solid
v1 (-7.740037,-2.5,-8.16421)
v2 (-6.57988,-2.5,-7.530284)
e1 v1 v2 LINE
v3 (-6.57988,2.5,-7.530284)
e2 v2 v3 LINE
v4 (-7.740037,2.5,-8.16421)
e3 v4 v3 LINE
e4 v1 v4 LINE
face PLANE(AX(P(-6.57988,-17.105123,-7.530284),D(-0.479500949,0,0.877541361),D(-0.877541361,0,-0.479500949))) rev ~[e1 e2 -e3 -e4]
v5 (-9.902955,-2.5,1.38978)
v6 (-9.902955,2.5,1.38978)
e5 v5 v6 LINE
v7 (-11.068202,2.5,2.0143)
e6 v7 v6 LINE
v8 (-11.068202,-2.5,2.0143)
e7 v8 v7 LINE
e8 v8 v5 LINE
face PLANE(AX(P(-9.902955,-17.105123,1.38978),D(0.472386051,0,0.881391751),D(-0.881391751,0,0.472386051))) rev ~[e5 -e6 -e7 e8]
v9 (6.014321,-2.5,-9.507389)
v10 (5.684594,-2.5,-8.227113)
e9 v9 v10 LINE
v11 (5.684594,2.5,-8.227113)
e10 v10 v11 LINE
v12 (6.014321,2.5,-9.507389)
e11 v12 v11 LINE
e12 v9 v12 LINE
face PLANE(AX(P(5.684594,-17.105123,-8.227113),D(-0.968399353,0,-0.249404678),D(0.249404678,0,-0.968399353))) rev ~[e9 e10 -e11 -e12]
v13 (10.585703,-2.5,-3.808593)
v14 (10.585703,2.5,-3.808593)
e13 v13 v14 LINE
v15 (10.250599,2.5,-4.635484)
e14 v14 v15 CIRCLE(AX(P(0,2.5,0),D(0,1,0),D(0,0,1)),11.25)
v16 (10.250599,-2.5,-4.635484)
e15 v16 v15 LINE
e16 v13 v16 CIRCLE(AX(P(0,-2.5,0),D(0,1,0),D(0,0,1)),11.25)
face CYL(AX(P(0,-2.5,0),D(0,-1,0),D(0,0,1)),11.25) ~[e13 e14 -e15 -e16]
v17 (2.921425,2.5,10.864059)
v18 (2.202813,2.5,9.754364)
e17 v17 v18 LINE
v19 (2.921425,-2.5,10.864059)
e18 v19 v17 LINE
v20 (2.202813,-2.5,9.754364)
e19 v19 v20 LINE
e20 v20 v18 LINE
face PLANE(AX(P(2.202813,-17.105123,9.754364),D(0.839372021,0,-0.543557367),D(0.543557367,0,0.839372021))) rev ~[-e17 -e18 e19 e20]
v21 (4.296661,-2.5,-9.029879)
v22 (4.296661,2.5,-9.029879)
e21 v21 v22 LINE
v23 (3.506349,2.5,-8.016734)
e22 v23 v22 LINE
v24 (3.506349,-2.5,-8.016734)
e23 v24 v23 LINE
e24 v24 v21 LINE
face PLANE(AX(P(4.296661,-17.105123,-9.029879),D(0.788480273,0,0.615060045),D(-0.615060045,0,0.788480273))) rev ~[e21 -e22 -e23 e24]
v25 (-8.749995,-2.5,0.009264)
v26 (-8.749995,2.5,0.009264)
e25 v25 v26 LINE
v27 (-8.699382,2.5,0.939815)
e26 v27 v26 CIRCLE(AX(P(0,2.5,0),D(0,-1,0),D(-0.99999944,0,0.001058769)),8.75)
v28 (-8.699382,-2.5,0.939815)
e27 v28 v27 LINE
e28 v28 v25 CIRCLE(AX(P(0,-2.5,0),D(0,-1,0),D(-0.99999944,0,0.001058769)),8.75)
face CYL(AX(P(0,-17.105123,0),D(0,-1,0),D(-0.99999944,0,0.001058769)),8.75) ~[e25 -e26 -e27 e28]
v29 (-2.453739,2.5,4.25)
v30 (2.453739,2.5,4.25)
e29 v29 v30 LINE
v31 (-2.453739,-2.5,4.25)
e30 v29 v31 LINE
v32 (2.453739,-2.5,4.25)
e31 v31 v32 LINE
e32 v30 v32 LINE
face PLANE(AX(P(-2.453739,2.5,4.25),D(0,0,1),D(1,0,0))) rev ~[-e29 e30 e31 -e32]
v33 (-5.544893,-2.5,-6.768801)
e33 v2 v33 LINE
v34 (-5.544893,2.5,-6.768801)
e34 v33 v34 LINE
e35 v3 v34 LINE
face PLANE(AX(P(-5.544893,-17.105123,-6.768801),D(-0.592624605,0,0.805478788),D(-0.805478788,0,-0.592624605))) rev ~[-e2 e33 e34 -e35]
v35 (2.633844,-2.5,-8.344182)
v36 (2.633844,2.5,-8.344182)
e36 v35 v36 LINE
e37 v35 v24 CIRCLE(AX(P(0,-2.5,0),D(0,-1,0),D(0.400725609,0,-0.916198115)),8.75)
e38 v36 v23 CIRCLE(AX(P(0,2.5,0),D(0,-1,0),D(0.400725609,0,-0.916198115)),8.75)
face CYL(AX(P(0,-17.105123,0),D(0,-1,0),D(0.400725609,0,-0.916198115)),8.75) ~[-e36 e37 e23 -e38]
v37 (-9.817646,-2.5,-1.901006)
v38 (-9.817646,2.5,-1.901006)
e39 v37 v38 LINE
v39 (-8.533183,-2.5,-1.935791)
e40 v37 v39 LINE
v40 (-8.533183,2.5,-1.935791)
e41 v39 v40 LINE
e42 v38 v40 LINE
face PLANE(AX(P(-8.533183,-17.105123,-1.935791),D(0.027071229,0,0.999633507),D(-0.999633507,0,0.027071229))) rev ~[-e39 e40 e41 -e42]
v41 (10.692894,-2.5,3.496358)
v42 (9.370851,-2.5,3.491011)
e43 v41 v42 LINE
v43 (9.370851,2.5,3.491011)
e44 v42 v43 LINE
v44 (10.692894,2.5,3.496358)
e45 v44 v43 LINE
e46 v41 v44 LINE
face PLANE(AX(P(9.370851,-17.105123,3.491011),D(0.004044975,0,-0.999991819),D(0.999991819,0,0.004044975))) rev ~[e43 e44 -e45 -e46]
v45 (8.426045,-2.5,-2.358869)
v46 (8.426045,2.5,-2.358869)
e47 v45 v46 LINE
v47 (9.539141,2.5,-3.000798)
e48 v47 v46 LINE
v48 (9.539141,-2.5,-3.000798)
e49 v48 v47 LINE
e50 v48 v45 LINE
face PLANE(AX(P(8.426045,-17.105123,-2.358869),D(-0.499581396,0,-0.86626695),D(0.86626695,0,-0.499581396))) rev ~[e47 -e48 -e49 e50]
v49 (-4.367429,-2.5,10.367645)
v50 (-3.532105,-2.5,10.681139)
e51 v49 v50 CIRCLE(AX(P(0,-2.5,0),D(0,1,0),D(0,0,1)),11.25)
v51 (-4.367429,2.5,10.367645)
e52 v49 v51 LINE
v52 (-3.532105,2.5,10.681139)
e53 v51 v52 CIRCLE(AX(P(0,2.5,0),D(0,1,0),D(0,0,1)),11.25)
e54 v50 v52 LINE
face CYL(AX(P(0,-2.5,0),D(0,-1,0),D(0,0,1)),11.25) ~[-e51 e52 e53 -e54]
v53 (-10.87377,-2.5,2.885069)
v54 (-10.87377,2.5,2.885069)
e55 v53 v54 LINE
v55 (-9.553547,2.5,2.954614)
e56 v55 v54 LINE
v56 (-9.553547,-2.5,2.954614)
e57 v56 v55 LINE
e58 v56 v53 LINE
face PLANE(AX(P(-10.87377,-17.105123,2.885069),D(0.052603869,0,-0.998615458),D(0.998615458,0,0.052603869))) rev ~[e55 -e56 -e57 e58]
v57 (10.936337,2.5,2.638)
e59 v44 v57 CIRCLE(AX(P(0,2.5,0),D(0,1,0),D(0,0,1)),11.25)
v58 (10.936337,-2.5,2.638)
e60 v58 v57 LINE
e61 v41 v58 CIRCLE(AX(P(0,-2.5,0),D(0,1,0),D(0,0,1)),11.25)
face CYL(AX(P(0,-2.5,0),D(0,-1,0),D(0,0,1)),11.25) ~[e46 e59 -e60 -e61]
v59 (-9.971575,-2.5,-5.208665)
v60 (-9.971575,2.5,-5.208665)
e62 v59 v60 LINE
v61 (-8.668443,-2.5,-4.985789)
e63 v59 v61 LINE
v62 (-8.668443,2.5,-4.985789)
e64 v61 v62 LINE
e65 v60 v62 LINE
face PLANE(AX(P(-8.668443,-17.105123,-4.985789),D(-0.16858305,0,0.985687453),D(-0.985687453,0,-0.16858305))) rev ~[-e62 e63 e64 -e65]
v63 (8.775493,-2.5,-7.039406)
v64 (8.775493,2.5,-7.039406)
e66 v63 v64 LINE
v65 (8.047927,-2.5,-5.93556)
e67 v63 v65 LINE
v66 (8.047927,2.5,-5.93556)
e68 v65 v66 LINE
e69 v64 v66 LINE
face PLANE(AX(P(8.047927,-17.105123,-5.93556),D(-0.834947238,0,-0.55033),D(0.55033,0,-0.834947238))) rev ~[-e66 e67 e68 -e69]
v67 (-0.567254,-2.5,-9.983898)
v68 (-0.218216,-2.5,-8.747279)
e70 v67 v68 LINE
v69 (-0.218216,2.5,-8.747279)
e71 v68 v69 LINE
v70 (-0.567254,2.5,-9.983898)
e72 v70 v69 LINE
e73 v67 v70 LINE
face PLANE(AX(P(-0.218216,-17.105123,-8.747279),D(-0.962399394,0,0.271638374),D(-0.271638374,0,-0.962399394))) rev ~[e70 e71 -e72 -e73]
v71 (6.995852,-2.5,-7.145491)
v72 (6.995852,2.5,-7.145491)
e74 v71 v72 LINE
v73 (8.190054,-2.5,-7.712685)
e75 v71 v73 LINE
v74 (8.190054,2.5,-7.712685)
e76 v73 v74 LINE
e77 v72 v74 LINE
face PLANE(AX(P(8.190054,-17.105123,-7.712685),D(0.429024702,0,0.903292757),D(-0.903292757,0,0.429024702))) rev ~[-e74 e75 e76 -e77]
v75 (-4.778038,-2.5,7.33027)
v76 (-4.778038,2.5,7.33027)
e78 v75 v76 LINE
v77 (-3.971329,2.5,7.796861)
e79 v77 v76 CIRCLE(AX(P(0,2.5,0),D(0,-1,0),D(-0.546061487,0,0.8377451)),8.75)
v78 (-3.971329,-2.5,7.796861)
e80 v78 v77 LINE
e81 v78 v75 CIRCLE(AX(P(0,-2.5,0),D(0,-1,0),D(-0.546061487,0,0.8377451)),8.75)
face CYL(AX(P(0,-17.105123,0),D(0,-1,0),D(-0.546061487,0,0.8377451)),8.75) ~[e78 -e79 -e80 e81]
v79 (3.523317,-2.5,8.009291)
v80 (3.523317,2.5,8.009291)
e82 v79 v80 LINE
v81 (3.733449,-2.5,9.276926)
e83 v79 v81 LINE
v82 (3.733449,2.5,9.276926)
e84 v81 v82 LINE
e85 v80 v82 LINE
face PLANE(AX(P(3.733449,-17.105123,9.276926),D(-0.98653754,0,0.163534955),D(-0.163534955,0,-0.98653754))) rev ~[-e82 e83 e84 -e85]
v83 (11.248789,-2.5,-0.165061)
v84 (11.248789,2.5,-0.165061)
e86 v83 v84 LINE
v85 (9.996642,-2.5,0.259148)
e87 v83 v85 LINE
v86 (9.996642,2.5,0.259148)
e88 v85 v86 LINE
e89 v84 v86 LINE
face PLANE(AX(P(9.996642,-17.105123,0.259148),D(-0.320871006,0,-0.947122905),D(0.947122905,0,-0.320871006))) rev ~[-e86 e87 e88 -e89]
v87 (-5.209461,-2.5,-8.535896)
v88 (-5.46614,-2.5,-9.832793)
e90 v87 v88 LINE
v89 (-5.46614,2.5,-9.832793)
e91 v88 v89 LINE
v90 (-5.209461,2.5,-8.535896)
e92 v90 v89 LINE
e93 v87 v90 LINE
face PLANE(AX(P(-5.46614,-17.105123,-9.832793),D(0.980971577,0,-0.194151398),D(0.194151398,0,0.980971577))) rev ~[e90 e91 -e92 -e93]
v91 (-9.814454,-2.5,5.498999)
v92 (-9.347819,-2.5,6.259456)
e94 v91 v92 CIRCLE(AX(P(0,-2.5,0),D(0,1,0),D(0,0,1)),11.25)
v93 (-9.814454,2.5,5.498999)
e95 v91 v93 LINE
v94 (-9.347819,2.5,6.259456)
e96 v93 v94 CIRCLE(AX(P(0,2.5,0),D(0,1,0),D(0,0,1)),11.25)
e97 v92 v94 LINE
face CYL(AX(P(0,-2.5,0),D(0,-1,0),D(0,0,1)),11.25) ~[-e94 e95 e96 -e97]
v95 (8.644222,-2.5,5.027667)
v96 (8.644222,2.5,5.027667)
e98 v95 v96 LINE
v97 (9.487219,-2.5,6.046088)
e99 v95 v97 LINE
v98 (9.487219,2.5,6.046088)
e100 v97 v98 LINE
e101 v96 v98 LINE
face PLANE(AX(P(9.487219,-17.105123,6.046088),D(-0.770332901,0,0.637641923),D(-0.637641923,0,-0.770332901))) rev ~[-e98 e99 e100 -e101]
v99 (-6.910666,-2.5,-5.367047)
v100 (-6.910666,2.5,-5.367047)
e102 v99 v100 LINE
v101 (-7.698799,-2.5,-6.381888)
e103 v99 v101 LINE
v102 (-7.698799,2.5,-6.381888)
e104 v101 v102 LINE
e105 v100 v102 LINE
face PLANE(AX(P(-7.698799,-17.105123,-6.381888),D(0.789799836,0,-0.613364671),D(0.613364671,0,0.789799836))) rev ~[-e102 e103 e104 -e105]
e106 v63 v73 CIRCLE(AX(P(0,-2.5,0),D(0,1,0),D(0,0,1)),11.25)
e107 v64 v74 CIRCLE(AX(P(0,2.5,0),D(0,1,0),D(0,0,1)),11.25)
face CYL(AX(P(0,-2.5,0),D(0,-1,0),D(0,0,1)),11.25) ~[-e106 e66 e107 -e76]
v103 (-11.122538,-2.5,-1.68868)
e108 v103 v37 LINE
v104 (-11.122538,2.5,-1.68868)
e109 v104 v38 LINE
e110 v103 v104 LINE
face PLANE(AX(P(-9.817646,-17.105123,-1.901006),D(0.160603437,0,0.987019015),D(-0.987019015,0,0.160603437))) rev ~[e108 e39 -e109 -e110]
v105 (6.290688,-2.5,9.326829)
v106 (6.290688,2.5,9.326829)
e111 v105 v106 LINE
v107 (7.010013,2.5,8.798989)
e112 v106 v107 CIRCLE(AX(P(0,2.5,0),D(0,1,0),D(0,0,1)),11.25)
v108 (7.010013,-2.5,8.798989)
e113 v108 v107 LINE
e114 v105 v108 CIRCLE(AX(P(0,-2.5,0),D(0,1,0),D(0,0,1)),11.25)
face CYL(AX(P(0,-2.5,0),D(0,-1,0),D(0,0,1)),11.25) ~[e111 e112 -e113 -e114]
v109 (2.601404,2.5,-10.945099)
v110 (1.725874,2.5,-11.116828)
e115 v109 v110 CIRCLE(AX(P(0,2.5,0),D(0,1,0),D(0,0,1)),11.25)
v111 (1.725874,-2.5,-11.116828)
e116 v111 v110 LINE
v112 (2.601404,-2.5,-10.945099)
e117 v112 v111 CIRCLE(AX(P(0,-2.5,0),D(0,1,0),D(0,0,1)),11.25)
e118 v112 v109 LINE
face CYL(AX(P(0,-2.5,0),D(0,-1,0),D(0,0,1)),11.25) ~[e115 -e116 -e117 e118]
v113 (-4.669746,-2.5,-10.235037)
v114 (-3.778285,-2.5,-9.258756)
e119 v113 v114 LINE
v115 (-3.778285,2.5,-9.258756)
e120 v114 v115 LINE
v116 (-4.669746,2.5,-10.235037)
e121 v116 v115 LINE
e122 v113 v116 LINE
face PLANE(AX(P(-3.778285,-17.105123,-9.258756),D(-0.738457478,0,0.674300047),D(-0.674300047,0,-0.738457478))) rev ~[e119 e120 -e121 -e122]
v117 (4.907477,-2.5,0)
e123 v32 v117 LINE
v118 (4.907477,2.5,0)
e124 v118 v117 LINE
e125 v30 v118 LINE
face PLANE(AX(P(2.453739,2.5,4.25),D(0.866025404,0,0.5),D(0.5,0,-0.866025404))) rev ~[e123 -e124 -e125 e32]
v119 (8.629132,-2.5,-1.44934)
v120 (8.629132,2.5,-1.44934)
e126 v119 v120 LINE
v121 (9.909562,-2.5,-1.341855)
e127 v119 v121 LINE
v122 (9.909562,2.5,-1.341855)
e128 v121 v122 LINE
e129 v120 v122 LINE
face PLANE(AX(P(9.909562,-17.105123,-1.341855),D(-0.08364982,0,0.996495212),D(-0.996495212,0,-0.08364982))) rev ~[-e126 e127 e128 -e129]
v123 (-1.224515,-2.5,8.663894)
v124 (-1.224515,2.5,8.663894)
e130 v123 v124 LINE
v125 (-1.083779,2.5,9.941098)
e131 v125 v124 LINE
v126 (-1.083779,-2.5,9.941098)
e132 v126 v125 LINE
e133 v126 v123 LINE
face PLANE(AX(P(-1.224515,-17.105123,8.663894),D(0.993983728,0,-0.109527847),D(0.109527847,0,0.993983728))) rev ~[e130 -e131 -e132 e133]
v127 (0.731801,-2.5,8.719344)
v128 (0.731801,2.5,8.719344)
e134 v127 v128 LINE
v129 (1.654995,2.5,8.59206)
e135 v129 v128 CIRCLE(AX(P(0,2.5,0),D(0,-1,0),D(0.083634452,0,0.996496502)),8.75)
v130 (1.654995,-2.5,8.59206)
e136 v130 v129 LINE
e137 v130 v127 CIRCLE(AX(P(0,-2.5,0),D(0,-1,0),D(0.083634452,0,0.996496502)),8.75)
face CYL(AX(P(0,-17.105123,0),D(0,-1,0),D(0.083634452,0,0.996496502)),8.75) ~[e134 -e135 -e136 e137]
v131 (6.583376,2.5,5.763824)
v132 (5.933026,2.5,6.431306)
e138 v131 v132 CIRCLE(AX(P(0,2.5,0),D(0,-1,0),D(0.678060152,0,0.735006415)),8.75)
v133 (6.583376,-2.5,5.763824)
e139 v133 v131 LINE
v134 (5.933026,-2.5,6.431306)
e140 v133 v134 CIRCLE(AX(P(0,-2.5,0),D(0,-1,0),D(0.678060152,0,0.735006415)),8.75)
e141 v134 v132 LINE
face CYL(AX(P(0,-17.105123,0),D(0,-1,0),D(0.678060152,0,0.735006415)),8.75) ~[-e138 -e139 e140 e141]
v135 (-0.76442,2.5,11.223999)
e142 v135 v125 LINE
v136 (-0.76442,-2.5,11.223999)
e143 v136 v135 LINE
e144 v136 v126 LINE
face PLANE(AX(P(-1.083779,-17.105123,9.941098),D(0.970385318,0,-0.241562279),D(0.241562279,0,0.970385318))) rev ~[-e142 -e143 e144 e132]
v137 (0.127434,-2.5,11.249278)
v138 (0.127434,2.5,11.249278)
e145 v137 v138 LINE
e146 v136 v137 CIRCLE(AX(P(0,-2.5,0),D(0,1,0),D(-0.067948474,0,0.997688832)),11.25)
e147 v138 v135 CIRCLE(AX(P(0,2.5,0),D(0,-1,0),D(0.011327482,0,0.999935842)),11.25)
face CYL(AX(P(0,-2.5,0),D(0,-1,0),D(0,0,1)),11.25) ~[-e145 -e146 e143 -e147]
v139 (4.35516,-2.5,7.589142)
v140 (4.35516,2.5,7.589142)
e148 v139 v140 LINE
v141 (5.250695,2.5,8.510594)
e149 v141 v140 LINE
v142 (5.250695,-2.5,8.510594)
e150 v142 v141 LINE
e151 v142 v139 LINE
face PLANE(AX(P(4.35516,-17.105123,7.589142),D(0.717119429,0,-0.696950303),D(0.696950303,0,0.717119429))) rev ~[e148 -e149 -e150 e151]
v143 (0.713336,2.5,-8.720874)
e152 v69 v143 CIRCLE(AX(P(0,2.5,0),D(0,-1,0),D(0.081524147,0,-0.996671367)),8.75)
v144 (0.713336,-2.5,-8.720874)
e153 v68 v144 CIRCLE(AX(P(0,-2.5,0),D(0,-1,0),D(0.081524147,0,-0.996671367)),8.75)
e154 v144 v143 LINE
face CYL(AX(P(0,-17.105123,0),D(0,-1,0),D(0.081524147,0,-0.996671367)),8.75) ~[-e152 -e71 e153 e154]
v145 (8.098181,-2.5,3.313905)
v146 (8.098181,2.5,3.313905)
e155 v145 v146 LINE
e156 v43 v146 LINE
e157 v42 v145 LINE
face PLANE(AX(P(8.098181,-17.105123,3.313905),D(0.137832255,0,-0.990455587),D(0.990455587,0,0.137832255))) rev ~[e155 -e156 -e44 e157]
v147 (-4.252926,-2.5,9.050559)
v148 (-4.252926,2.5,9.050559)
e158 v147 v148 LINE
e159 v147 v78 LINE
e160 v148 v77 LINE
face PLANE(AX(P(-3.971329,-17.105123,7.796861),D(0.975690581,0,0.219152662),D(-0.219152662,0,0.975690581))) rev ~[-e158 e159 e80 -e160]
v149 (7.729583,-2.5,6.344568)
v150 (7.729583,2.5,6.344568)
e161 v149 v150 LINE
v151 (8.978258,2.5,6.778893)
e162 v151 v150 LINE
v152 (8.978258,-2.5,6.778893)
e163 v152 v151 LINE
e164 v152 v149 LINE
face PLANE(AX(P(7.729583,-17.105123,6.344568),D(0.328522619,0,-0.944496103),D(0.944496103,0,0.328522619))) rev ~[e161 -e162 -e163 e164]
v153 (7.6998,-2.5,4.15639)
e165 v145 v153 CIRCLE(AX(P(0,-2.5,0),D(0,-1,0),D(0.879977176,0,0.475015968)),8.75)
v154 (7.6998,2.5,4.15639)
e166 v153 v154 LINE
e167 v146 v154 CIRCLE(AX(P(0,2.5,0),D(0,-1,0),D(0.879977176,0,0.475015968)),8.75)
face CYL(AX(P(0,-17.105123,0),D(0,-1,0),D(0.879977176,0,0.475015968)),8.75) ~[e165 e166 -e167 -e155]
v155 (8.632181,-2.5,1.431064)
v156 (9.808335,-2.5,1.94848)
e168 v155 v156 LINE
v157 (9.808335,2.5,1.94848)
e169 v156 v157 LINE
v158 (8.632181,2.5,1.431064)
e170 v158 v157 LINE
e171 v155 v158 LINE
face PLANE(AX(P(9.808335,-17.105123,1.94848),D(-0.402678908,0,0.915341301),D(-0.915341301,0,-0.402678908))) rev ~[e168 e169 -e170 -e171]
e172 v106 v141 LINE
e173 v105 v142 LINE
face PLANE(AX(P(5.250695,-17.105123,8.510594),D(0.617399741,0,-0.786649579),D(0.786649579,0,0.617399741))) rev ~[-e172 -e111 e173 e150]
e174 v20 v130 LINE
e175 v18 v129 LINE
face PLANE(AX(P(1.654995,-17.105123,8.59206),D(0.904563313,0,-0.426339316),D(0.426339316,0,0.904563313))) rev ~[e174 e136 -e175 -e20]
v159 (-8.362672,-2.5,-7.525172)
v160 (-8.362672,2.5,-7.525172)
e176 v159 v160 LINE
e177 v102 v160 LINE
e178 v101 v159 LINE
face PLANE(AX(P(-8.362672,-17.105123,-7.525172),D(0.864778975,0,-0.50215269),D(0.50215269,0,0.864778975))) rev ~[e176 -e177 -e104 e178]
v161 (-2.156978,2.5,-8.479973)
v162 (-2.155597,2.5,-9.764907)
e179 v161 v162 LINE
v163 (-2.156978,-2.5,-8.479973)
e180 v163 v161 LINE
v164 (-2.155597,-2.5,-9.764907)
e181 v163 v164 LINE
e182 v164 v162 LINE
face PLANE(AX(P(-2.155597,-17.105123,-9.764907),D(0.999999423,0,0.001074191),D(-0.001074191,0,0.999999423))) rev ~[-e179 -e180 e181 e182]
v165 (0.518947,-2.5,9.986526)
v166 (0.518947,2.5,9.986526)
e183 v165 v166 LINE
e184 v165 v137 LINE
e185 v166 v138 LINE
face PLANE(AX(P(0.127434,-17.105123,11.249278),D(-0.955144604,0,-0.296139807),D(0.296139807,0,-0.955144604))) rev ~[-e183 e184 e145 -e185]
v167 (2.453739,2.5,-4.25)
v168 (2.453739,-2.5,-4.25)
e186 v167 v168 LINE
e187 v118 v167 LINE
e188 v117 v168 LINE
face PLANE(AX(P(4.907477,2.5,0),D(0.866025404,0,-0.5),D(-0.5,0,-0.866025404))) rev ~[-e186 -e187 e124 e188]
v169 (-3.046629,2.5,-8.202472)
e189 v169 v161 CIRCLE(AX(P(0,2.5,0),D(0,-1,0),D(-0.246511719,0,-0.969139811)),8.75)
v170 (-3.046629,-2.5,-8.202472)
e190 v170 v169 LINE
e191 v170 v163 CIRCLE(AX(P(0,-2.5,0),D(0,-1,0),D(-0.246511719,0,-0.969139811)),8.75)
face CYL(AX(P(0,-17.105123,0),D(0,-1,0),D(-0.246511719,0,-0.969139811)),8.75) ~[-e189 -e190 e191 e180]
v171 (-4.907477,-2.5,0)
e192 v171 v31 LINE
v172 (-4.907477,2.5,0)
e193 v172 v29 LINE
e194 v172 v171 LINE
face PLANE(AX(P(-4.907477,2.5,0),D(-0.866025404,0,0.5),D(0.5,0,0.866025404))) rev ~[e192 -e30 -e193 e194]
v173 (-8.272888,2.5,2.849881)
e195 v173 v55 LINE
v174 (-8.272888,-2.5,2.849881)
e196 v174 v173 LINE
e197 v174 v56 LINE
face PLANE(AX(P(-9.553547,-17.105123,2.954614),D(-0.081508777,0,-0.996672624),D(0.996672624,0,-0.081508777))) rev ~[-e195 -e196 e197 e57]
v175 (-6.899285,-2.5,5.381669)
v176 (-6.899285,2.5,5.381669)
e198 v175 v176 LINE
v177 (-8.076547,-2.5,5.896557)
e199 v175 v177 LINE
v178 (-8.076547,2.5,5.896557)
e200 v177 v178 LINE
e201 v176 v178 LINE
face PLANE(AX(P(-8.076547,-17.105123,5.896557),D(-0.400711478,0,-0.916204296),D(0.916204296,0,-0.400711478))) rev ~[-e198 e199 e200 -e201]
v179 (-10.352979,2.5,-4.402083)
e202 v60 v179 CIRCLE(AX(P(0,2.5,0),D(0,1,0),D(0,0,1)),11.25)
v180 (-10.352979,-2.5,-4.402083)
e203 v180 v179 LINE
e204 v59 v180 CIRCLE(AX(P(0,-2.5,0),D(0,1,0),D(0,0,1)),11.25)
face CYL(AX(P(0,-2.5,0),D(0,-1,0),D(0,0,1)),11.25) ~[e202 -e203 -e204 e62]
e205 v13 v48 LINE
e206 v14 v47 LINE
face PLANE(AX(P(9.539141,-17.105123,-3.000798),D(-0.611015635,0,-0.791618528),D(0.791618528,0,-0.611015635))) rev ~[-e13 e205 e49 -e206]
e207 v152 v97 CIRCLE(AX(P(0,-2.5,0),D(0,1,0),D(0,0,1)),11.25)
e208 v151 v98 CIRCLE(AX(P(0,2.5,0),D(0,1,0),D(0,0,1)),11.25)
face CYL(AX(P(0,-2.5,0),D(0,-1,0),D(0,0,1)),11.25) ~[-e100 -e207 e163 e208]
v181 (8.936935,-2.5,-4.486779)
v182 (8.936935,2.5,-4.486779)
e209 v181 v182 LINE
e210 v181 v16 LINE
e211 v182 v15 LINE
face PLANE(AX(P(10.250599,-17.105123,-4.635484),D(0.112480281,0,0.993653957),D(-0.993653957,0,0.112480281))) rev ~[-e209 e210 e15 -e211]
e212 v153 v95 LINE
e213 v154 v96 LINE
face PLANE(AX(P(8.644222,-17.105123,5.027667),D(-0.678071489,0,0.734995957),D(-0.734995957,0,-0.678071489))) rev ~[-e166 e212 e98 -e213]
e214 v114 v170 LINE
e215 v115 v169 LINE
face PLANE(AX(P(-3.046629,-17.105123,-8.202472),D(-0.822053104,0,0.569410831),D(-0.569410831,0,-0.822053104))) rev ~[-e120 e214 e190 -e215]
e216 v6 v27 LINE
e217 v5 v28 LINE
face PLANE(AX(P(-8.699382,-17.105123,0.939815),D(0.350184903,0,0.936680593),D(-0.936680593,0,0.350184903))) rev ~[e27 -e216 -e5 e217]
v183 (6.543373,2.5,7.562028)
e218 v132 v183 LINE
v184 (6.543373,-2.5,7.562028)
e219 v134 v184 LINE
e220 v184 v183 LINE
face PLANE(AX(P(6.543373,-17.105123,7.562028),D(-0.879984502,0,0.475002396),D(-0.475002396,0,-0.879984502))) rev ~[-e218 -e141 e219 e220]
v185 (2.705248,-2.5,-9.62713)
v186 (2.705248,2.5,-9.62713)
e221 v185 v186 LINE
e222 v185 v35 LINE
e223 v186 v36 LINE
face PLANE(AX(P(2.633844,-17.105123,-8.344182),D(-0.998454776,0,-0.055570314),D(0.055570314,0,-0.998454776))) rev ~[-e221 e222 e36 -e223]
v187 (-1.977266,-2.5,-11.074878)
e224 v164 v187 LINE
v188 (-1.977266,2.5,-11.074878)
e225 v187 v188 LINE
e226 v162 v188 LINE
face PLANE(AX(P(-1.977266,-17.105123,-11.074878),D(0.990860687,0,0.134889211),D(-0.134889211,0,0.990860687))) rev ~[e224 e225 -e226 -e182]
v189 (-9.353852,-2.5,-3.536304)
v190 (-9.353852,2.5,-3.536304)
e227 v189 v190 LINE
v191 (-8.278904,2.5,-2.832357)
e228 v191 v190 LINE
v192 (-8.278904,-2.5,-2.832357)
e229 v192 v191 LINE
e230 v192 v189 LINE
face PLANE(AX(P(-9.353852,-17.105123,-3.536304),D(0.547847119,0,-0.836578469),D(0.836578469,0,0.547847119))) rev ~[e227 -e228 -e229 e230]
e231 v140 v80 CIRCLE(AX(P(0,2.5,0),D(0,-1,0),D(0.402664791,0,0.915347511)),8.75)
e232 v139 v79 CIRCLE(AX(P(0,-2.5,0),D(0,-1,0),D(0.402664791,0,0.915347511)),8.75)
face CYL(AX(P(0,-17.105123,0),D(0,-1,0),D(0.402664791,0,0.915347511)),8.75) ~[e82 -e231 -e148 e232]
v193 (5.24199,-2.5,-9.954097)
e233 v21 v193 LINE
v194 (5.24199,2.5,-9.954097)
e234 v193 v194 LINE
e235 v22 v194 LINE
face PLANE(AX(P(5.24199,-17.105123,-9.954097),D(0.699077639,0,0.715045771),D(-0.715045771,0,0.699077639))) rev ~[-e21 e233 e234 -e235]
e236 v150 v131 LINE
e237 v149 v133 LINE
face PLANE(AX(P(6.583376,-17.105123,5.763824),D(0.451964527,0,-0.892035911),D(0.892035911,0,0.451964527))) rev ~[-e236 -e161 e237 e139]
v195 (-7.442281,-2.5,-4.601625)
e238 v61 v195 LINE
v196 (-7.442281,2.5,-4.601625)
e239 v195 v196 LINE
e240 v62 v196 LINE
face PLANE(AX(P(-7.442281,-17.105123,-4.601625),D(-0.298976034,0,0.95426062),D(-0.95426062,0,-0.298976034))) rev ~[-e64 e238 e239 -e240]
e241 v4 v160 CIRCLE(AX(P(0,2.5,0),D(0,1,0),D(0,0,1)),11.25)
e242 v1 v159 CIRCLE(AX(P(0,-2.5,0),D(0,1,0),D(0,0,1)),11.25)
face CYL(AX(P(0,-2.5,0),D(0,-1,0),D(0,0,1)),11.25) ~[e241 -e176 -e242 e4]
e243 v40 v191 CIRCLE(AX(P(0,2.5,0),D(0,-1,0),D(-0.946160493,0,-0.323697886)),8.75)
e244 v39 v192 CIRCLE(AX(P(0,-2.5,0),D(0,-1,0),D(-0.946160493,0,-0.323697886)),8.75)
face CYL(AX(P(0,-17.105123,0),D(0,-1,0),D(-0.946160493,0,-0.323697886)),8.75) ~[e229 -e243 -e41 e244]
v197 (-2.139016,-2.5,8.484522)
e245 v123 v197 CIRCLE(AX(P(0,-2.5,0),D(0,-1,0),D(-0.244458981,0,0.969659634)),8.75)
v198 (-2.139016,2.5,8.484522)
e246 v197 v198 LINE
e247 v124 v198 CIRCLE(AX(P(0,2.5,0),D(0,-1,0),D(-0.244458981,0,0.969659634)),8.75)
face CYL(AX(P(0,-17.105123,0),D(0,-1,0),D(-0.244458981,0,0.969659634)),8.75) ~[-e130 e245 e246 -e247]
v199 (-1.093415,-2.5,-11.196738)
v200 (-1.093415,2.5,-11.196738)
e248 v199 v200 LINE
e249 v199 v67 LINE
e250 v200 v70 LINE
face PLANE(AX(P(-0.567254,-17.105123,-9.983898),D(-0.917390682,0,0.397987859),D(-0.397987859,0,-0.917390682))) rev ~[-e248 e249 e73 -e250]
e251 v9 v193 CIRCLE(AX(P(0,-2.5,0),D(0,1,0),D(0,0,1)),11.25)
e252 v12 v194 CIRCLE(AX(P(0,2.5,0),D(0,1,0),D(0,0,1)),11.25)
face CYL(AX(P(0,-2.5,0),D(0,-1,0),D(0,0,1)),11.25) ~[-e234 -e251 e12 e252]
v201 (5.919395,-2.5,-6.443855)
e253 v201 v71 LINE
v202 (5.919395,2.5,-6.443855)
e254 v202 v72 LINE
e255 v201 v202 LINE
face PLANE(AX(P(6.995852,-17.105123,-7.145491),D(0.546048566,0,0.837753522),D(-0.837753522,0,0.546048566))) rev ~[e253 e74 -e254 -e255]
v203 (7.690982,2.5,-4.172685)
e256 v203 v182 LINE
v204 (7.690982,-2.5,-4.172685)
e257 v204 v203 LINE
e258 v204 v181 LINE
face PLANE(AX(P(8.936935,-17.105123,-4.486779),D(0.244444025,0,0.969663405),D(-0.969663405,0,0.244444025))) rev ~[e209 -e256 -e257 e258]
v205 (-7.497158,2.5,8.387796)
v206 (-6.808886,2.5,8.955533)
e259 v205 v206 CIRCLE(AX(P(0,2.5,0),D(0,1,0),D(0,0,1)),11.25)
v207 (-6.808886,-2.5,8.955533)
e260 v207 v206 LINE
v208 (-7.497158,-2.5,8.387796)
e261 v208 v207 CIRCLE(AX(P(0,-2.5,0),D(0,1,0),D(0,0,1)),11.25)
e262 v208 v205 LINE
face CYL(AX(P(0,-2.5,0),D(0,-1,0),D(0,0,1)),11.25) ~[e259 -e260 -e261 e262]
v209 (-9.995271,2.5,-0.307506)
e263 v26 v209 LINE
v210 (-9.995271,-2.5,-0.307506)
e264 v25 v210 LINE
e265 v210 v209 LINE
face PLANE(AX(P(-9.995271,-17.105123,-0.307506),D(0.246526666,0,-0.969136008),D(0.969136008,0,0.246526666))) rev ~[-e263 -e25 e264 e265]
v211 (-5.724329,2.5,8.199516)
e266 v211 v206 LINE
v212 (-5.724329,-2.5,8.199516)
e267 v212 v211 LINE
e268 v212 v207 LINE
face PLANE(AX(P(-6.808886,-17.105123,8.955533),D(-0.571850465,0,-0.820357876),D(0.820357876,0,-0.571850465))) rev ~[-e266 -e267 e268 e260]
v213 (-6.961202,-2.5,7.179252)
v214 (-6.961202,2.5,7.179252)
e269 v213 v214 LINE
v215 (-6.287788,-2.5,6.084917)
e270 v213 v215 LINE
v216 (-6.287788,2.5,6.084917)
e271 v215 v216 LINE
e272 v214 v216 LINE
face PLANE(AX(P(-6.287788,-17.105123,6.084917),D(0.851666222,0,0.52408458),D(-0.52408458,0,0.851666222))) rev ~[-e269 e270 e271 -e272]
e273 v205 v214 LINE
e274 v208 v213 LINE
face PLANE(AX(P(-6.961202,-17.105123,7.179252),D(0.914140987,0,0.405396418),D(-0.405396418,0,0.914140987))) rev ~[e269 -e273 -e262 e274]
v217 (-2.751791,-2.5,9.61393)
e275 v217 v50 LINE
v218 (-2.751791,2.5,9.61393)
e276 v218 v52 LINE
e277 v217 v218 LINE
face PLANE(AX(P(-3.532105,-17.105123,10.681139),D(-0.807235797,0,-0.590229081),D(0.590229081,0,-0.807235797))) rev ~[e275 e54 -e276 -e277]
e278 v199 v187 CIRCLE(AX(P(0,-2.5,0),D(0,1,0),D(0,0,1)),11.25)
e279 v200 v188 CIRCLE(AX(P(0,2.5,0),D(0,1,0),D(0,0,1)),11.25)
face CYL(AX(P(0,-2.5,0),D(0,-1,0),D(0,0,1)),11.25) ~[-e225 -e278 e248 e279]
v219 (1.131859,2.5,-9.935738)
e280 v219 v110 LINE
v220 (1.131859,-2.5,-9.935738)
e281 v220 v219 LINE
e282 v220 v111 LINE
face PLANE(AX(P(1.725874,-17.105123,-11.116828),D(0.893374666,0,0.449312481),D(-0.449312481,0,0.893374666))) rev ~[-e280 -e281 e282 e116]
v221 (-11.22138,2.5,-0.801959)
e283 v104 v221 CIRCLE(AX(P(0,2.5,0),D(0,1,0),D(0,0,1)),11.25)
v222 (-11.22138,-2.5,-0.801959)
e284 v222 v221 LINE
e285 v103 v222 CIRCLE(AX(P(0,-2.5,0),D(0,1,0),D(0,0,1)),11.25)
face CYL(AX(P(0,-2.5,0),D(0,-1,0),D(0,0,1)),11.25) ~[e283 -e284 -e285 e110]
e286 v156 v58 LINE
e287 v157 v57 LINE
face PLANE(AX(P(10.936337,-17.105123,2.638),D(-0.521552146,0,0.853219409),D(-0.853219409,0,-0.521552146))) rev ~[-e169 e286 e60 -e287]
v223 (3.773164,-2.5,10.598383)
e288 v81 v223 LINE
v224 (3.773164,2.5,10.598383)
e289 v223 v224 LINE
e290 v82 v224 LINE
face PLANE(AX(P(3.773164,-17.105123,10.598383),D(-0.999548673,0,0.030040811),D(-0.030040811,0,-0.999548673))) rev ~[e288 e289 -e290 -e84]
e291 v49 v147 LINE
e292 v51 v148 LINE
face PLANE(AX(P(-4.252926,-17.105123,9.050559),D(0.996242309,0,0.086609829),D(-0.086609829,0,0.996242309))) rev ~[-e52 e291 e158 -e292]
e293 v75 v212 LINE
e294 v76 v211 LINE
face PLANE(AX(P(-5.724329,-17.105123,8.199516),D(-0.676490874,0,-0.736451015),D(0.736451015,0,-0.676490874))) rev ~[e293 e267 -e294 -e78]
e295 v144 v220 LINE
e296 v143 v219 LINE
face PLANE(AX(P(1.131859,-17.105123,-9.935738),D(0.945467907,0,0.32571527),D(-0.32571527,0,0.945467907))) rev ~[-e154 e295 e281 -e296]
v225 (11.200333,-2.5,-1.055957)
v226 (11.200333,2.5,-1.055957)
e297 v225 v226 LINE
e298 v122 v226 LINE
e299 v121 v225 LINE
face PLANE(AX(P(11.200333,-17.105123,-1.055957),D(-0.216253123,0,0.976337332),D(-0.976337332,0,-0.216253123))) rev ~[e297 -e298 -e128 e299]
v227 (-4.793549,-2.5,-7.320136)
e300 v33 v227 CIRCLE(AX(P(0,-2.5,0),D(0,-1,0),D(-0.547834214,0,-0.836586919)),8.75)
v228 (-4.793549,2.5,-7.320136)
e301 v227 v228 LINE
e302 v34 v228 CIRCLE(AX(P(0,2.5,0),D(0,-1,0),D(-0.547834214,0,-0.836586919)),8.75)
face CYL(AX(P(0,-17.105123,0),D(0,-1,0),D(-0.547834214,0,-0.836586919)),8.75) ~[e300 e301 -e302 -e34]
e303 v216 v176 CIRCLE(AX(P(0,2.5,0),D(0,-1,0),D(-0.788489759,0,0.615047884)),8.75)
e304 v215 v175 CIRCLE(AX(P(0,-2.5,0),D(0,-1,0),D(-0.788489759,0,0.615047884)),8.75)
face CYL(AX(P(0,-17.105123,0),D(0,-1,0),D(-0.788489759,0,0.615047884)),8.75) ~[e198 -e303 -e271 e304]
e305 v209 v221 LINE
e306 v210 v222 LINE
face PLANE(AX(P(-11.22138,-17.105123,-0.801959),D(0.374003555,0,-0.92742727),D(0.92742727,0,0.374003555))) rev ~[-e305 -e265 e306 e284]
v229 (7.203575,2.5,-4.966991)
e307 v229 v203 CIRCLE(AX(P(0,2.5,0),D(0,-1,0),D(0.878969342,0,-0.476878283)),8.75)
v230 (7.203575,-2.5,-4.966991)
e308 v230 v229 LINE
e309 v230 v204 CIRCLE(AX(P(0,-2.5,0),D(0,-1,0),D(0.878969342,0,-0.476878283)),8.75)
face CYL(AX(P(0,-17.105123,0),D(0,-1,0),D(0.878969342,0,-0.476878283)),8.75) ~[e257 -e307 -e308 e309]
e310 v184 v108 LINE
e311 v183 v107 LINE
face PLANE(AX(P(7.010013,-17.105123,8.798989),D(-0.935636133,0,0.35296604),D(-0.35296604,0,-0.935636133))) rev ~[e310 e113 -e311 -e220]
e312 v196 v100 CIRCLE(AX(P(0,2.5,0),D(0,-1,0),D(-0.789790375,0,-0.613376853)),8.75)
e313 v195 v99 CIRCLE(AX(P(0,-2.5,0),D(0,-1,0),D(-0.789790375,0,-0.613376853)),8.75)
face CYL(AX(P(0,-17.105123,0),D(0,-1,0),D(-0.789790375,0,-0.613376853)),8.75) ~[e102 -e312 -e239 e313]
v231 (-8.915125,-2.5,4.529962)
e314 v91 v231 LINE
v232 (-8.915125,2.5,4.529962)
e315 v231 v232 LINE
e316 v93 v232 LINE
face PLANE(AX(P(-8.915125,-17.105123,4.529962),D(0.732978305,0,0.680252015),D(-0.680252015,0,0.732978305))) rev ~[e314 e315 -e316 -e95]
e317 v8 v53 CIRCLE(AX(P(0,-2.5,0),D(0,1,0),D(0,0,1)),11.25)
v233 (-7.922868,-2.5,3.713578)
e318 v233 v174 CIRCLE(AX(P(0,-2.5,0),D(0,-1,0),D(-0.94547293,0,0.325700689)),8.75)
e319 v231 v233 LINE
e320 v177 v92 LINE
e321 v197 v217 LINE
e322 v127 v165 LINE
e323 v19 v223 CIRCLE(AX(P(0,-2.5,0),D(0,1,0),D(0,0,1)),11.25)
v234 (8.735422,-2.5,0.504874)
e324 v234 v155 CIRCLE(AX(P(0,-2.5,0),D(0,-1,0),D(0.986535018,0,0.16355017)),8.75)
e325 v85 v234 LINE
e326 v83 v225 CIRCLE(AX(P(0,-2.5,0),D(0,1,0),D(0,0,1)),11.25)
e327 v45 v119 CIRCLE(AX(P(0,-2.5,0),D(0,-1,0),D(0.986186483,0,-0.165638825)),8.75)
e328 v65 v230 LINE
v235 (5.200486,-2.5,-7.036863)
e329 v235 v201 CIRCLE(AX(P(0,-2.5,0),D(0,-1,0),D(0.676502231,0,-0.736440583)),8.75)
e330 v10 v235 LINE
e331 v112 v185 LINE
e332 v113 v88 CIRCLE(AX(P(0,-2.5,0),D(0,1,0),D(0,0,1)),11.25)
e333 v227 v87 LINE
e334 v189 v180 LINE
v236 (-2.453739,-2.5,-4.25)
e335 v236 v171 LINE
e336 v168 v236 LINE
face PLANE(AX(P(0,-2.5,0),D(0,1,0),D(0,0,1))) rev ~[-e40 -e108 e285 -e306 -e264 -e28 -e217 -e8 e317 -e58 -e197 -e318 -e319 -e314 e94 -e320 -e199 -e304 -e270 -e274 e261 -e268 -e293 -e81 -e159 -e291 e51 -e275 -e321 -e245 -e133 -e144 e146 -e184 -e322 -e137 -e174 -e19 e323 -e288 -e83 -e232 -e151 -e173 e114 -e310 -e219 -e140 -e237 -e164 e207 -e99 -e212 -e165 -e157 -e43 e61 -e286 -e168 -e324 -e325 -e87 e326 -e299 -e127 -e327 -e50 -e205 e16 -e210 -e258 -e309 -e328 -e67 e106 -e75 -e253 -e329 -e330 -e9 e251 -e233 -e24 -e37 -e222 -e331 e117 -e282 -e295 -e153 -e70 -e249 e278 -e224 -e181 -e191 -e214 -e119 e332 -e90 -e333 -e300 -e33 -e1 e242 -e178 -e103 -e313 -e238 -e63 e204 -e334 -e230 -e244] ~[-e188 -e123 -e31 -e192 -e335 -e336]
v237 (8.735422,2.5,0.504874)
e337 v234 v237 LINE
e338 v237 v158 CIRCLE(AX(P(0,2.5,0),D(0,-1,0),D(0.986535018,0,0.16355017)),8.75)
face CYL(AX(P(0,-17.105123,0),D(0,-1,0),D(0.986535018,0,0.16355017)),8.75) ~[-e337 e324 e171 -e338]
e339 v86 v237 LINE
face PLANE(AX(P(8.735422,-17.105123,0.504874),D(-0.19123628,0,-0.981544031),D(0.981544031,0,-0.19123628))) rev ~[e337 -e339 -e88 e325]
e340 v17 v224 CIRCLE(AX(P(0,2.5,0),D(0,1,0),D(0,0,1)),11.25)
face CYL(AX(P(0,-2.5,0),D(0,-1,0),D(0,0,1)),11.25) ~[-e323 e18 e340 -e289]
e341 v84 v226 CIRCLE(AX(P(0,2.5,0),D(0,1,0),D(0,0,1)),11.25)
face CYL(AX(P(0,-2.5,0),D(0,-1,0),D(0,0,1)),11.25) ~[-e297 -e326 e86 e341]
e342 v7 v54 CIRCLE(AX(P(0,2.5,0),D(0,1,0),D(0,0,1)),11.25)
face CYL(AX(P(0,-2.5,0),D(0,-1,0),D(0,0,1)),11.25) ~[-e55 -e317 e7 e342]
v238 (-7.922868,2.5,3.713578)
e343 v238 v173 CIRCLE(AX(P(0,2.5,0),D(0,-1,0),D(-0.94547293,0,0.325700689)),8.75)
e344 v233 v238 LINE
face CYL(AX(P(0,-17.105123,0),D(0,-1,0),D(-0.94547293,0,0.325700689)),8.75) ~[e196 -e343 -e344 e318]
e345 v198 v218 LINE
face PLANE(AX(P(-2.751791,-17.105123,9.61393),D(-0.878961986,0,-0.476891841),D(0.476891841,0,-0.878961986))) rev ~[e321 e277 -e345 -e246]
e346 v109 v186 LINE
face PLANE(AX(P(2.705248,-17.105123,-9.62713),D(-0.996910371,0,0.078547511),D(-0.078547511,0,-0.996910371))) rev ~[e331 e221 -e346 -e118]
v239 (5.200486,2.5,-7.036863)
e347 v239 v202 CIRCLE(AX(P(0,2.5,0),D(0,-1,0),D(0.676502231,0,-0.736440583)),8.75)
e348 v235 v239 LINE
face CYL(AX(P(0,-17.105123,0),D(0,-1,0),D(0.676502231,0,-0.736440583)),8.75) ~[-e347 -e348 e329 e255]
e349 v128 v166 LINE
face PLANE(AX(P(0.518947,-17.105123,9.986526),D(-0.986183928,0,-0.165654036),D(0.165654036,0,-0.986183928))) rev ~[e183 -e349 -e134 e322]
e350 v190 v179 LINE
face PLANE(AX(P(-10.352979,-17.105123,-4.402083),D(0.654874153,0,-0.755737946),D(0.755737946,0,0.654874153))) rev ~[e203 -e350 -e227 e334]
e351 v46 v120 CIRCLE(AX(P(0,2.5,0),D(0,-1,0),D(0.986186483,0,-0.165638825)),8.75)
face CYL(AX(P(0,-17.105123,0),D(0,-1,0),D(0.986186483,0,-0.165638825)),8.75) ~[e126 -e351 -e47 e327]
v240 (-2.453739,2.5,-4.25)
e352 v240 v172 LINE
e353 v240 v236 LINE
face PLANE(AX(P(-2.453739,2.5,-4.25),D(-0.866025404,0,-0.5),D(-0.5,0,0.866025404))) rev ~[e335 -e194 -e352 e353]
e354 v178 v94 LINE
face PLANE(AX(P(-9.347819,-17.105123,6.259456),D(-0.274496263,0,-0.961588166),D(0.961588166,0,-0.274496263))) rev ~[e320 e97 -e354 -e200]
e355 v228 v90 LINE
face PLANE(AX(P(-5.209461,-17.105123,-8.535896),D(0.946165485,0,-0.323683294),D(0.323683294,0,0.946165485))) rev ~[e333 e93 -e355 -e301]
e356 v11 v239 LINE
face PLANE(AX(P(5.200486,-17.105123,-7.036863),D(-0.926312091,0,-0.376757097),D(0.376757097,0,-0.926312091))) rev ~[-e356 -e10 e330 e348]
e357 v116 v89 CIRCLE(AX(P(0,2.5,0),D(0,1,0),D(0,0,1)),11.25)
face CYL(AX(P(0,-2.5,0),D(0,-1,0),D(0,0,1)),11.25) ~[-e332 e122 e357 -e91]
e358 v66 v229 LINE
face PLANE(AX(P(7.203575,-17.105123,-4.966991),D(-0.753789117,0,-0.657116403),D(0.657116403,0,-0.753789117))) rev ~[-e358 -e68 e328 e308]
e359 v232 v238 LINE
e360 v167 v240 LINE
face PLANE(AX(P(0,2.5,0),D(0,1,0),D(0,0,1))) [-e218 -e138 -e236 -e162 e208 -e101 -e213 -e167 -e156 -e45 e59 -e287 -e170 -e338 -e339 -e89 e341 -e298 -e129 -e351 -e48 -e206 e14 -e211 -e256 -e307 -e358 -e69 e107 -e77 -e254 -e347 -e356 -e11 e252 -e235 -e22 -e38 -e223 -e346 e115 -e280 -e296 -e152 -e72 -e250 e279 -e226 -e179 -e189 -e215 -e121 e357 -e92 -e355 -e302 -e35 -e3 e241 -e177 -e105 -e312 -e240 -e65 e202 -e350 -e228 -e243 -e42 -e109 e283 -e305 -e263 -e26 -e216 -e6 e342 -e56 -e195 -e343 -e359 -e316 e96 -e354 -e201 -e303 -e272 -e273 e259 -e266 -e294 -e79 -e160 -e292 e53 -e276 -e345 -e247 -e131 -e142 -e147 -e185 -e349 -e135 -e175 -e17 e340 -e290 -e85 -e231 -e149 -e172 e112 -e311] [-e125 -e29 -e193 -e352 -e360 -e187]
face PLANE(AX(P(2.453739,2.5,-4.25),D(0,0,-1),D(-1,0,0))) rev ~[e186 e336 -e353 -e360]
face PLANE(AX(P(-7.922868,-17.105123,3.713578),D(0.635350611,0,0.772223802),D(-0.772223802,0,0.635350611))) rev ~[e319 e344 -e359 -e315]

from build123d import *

# Parameters (mm, degrees)
BOSS_EXTRUDE1_DEPTH      = 2.5
BOSS_EXTRUDE1_DEPTH_BACK = 2.5
SKETCH3_R                = 11.25
CUT_EXTRUDE1_DEPTH       = 17.105123408
CUT_EXTRUDE1_DEPTH_BACK  = 17.105123408
CUT_EXTRUDE2_DEPTH       = 17.676263216


with BuildPart() as part:
    # Sketch3 → Boss-Extrude1 (new, two sides: drawn at the far end of the back side and taken through both)
    with BuildSketch(Plane(origin=(0, 0, 0), x_dir=(1, 0, 0), z_dir=(0, 1, 0)).offset(-BOSS_EXTRUDE1_DEPTH_BACK)):
        Circle(SKETCH3_R)
    extrude(amount=BOSS_EXTRUDE1_DEPTH + BOSS_EXTRUDE1_DEPTH_BACK)

    # Sketch1 → Cut-Extrude1 (cut, two sides: drawn at the far end of the back side and taken through both)
    with BuildSketch(Plane(origin=(0, 0, 0), x_dir=(1, 0, 0), z_dir=(0, 1, 0)).offset(-CUT_EXTRUDE1_DEPTH_BACK)):
        with BuildLine():
            Line((1.131858911, 9.935738292), (0.713336296, 8.720874459))
            ThreePointArc((0.713336296, 8.720874459), (0.24791183, 8.746487279), (-0.218216182, 8.747278531))
            Line((-0.218216182, 8.747278531), (-0.567253557, 9.983898207))
            Line((-0.567253557, 9.983898207), (-1.093414937, 11.196738086))
            ThreePointArc((-1.093414937, 11.196738086), (0.318743782, 11.245483645), (1.725874204, 11.116827705))
            Line((1.725874204, 11.116827705), (1.131858911, 9.935738292))
        make_face()
        with BuildLine():
            Line((4.296660623, 9.029878598), (3.506349076, 8.016733509))
            ThreePointArc((3.506349076, 8.016733509), (3.074459061, 8.192081633), (2.633844069, 8.344181531))
            Line((2.633844069, 8.344181531), (2.705248253, 9.627129992))
            Line((2.705248253, 9.627129992), (2.601404214, 10.945099182))
            ThreePointArc((2.601404214, 10.945099182), (3.952875935, 10.532676386), (5.241989634, 9.954096879))
            Line((5.241989634, 9.954096879), (4.296660623, 9.029878598))
        make_face()
        with BuildLine():
            Line((6.995852487, 7.145491445), (5.919394526, 6.443855092))
            ThreePointArc((5.919394526, 6.443855092), (5.567840946, 6.749936829), (5.200486446, 7.036862989))
            Line((5.200486446, 7.036862989), (5.684594439, 8.227112863))
            Line((5.684594439, 8.227112863), (6.014320853, 9.507388951))
            ThreePointArc((6.014320853, 9.507388951), (7.158652645, 8.678490209), (8.19005415, 7.712685202))
            Line((8.19005415, 7.712685202), (6.995852487, 7.145491445))
        make_face()
        with BuildLine():
            Line((8.936935181, 4.48677942), (7.690981731, 4.172684988))
            ThreePointArc((7.690981731, 4.172684988), (7.457860872, 4.576331633), (7.203575423, 4.966991153))
            Line((7.203575423, 4.966991153), (8.047926613, 5.935560398))
            Line((8.047926613, 5.935560398), (8.775492506, 7.039405605))
            ThreePointArc((8.775492506, 7.039405605), (9.588678264, 5.883854957), (10.250599217, 4.635484408))
            Line((10.250599217, 4.635484408), (8.936935181, 4.48677942))
        make_face()
        with BuildLine():
            Line((9.909562279, 1.341855225), (8.629131728, 1.44933972))
            ThreePointArc((8.629131728, 1.44933972), (8.539705851, 1.906809896), (8.426045228, 2.358868756))
            Line((8.426045228, 2.358868756), (9.539141061, 3.000797864))
            Line((9.539141061, 3.000797864), (10.58570338, 3.808593434))
            ThreePointArc((10.58570338, 3.808593434), (10.979621808, 2.451612724), (11.200332804, 1.055956952))
            Line((11.200332804, 1.055956952), (9.909562279, 1.341855225))
        make_face()
        with BuildLine():
            Line((9.80833454, -1.948479804), (8.632181407, -1.431063996))
            ThreePointArc((8.632181407, -1.431063996), (8.696141194, -0.96934428), (8.735422289, -0.504873673))
            Line((8.735422289, -0.504873673), (9.99664156, -0.25914768))
            Line((9.99664156, -0.25914768), (11.248789039, 0.165061068))
            ThreePointArc((11.248789039, 0.165061068), (11.180752964, -1.246299789), (10.936336541, -2.637999824))
            Line((10.936336541, -2.637999824), (9.80833454, -1.948479804))
        make_face()
        with BuildLine():
            Line((8.644221562, -5.027666813), (7.699800288, -4.156389722))
            ThreePointArc((7.699800288, -4.156389722), (7.910214704, -3.740454963), (8.098180801, -3.313905205))
            Line((8.098180801, -3.313905205), (9.370850832, -3.491010552))
            Line((9.370850832, -3.491010552), (10.692893862, -3.496358227))
            ThreePointArc((10.692893862, -3.496358227), (10.170276048, -4.809156382), (9.487218518, -6.046088387))
            Line((9.487218518, -6.046088387), (8.644221562, -5.027666813))
        make_face()
        with BuildLine():
            Line((6.543373049, -7.56202811), (5.933026334, -6.431306129))
            ThreePointArc((5.933026334, -6.431306129), (6.267093712, -6.106229312), (6.583375767, -5.763823688))
            Line((6.583375767, -5.763823688), (7.729583013, -6.344568263))
            Line((7.729583013, -6.344568263), (8.978257718, -6.778892855))
            ThreePointArc((8.978257718, -6.778892855), (8.057691915, -7.850866258), (7.01001316, -8.798989458))
            Line((7.01001316, -8.798989458), (6.543373049, -7.56202811))
        make_face()
        with BuildLine():
            Line((3.733448535, -9.276926325), (3.523316916, -8.009290725))
            ThreePointArc((3.523316916, -8.009290725), (3.944835871, -7.810298967), (4.355159817, -7.58914244))
            Line((4.355159817, -7.58914244), (5.250694938, -8.510593556))
            Line((5.250694938, -8.510593556), (6.290688039, -9.326829258))
            ThreePointArc((6.290688039, -9.326829258), (5.071931835, -10.041812957), (3.773164105, -10.598383492))
            Line((3.773164105, -10.598383492), (3.733448535, -9.276926325))
        make_face()
        with BuildLine():
            Line((0.518946942, -9.986525626), (0.73180144, -8.719344394))
            ThreePointArc((0.73180144, -8.719344394), (1.195093854, -8.668001539), (1.654994723, -8.59205985))
            Line((1.654994723, -8.59205985), (2.202812593, -9.754363981))
            Line((2.202812593, -9.754363981), (2.9214247, -10.864058989))
            ThreePointArc((2.9214247, -10.864058989), (1.536549241, -11.144573407), (0.127434172, -11.249278223))
            Line((0.127434172, -11.249278223), (0.518946942, -9.986525626))
        make_face()
        with BuildLine():
            Line((-2.751790604, -9.613929918), (-2.139016077, -8.484521803))
            ThreePointArc((-2.139016077, -8.484521803), (-1.684155126, -8.586391647), (-1.224514728, -8.663894256))
            Line((-1.224514728, -8.663894256), (-1.083778676, -9.941097715))
            Line((-1.083778676, -9.941097715), (-0.764420336, -11.223999356))
            ThreePointArc((-0.764420336, -11.223999356), (-2.165342305, -11.039646403), (-3.532105231, -10.681139108))
            Line((-3.532105231, -10.681139108), (-2.751790604, -9.613929918))
        make_face()
        with BuildLine():
            Line((-5.72432894, -8.199515729), (-4.778038012, -7.330269624))
            ThreePointArc((-4.778038012, -7.330269624), (-4.380899766, -7.574312988), (-3.971329009, -7.796861285))
            Line((-3.971329009, -7.796861285), (-4.25292571, -9.050559259))
            Line((-4.25292571, -9.050559259), (-4.367428567, -10.367645235))
            ThreePointArc((-4.367428567, -10.367645235), (-5.632585414, -9.738402413), (-6.808886226, -8.955532836))
            Line((-6.808886226, -8.955532836), (-5.72432894, -8.199515729))
        make_face()
        with BuildLine():
            Line((-8.076547414, -5.896556781), (-6.899285389, -5.38166899))
            ThreePointArc((-6.899285389, -5.38166899), (-6.60290594, -5.741439989), (-6.28778817, -6.084917413))
            Line((-6.28778817, -6.084917413), (-6.961202251, -7.179252274))
            Line((-6.961202251, -7.179252274), (-7.497158145, -8.387795881))
            ThreePointArc((-7.497158145, -8.387795881), (-8.489450494, -7.381851415), (-9.347818747, -6.259455621))
            Line((-9.347818747, -6.259455621), (-8.076547414, -5.896556781))
        make_face()
        with BuildLine():
            Line((-9.553546654, -2.954614412), (-8.272888141, -2.849881016))
            ThreePointArc((-8.272888141, -2.849881016), (-8.1093848, -3.28639288), (-7.922867918, -3.713578323))
            Line((-7.922867918, -3.713578323), (-8.915124515, -4.529961907))
            Line((-8.915124515, -4.529961907), (-9.814454308, -5.498998694))
            ThreePointArc((-9.814454308, -5.498998694), (-10.426351886, -4.225362275), (-10.873770061, -2.885069265))
            Line((-10.873770061, -2.885069265), (-9.553546654, -2.954614412))
        make_face()
        with BuildLine():
            Line((-9.995270876, 0.307506274), (-8.749995096, -0.009264214))
            ThreePointArc((-8.749995096, -0.009264214), (-8.737085987, -0.475214109), (-8.69938199, -0.939815399))
            Line((-8.69938199, -0.939815399), (-9.902954705, -1.389779878))
            Line((-9.902954705, -1.389779878), (-11.068202059, -2.014299673))
            ThreePointArc((-11.068202059, -2.014299673), (-11.233396269, -0.610989569), (-11.221379665, 0.801959113))
            Line((-11.221379665, 0.801959113), (-9.995270876, 0.307506274))
        make_face()
        with BuildLine():
            Line((-9.353852406, 3.536303884), (-8.278904312, 2.83235651))
            ThreePointArc((-8.278904312, 2.83235651), (-8.417988338, 2.387461485), (-8.53318304, 1.935791107))
            Line((-8.53318304, 1.935791107), (-9.817646093, 1.901006365))
            Line((-9.817646093, 1.901006365), (-11.122538377, 1.688679973))
            ThreePointArc((-11.122538377, 1.688679973), (-10.823127863, 3.069593338), (-10.352978664, 4.402082777))
            Line((-10.352978664, 4.402082777), (-9.353852406, 3.536303884))
        make_face()
        with BuildLine():
            Line((-7.698798888, 6.381888097), (-6.910665785, 5.367047457))
            ThreePointArc((-6.910665785, 5.367047457), (-7.186671034, 4.991418581), (-7.442281301, 4.601624609))
            Line((-7.442281301, 4.601624609), (-8.668443189, 4.985789072))
            Line((-8.668443189, 4.985789072), (-9.971575077, 5.208664942))
            ThreePointArc((-9.971575077, 5.208664942), (-9.240005615, 6.417538176), (-8.362671783, 7.525172467))
            Line((-8.362671783, 7.525172467), (-7.698798888, 6.381888097))
        make_face()
        with BuildLine():
            Line((-5.209461051, 8.535895709), (-4.79354939, 7.320135534))
            ThreePointArc((-4.79354939, 7.320135534), (-5.17656641, 7.054478025), (-5.544892904, 6.768800683))
            Line((-5.544892904, 6.768800683), (-6.579879962, 7.53028417))
            Line((-6.579879962, 7.53028417), (-7.740036893, 8.164210243))
            ThreePointArc((-7.740036893, 8.164210243), (-6.655585384, 9.070043175), (-5.466139653, 9.832792955))
            Line((-5.466139653, 9.832792955), (-5.209461051, 8.535895709))
        make_face()
        with BuildLine():
            Line((-2.155597276, 9.764906573), (-2.15697754, 8.479973343))
            ThreePointArc((-2.15697754, 8.479973343), (-2.605500493, 8.353075313), (-3.046629323, 8.202472174))
            Line((-3.046629323, 8.202472174), (-3.778284643, 9.258756134))
            Line((-3.778284643, 9.258756134), (-4.669745613, 10.235036683))
            ThreePointArc((-4.669745613, 10.235036683), (-3.349929206, 10.739668259), (-1.977266476, 11.074877755))
            Line((-1.977266476, 11.074877755), (-2.155597276, 9.764906573))
        make_face()
    extrude(amount=CUT_EXTRUDE1_DEPTH + CUT_EXTRUDE1_DEPTH_BACK, mode=Mode.SUBTRACT)

    # Sketch4 → Cut-Extrude2 (cut, through all)
    with BuildSketch(Plane(origin=(0, 2.5, 0), x_dir=(1, 0, 0), z_dir=(0, 1, 0))):
        Polygon((4.907477288, 0), (2.453738644, 4.25), (-2.453738644, 4.25), (-4.907477288, 0), (-2.453738644, -4.25), (2.453738644, -4.25), align=None)
    extrude(amount=-CUT_EXTRUDE2_DEPTH, mode=Mode.SUBTRACT)


solid = part.part
